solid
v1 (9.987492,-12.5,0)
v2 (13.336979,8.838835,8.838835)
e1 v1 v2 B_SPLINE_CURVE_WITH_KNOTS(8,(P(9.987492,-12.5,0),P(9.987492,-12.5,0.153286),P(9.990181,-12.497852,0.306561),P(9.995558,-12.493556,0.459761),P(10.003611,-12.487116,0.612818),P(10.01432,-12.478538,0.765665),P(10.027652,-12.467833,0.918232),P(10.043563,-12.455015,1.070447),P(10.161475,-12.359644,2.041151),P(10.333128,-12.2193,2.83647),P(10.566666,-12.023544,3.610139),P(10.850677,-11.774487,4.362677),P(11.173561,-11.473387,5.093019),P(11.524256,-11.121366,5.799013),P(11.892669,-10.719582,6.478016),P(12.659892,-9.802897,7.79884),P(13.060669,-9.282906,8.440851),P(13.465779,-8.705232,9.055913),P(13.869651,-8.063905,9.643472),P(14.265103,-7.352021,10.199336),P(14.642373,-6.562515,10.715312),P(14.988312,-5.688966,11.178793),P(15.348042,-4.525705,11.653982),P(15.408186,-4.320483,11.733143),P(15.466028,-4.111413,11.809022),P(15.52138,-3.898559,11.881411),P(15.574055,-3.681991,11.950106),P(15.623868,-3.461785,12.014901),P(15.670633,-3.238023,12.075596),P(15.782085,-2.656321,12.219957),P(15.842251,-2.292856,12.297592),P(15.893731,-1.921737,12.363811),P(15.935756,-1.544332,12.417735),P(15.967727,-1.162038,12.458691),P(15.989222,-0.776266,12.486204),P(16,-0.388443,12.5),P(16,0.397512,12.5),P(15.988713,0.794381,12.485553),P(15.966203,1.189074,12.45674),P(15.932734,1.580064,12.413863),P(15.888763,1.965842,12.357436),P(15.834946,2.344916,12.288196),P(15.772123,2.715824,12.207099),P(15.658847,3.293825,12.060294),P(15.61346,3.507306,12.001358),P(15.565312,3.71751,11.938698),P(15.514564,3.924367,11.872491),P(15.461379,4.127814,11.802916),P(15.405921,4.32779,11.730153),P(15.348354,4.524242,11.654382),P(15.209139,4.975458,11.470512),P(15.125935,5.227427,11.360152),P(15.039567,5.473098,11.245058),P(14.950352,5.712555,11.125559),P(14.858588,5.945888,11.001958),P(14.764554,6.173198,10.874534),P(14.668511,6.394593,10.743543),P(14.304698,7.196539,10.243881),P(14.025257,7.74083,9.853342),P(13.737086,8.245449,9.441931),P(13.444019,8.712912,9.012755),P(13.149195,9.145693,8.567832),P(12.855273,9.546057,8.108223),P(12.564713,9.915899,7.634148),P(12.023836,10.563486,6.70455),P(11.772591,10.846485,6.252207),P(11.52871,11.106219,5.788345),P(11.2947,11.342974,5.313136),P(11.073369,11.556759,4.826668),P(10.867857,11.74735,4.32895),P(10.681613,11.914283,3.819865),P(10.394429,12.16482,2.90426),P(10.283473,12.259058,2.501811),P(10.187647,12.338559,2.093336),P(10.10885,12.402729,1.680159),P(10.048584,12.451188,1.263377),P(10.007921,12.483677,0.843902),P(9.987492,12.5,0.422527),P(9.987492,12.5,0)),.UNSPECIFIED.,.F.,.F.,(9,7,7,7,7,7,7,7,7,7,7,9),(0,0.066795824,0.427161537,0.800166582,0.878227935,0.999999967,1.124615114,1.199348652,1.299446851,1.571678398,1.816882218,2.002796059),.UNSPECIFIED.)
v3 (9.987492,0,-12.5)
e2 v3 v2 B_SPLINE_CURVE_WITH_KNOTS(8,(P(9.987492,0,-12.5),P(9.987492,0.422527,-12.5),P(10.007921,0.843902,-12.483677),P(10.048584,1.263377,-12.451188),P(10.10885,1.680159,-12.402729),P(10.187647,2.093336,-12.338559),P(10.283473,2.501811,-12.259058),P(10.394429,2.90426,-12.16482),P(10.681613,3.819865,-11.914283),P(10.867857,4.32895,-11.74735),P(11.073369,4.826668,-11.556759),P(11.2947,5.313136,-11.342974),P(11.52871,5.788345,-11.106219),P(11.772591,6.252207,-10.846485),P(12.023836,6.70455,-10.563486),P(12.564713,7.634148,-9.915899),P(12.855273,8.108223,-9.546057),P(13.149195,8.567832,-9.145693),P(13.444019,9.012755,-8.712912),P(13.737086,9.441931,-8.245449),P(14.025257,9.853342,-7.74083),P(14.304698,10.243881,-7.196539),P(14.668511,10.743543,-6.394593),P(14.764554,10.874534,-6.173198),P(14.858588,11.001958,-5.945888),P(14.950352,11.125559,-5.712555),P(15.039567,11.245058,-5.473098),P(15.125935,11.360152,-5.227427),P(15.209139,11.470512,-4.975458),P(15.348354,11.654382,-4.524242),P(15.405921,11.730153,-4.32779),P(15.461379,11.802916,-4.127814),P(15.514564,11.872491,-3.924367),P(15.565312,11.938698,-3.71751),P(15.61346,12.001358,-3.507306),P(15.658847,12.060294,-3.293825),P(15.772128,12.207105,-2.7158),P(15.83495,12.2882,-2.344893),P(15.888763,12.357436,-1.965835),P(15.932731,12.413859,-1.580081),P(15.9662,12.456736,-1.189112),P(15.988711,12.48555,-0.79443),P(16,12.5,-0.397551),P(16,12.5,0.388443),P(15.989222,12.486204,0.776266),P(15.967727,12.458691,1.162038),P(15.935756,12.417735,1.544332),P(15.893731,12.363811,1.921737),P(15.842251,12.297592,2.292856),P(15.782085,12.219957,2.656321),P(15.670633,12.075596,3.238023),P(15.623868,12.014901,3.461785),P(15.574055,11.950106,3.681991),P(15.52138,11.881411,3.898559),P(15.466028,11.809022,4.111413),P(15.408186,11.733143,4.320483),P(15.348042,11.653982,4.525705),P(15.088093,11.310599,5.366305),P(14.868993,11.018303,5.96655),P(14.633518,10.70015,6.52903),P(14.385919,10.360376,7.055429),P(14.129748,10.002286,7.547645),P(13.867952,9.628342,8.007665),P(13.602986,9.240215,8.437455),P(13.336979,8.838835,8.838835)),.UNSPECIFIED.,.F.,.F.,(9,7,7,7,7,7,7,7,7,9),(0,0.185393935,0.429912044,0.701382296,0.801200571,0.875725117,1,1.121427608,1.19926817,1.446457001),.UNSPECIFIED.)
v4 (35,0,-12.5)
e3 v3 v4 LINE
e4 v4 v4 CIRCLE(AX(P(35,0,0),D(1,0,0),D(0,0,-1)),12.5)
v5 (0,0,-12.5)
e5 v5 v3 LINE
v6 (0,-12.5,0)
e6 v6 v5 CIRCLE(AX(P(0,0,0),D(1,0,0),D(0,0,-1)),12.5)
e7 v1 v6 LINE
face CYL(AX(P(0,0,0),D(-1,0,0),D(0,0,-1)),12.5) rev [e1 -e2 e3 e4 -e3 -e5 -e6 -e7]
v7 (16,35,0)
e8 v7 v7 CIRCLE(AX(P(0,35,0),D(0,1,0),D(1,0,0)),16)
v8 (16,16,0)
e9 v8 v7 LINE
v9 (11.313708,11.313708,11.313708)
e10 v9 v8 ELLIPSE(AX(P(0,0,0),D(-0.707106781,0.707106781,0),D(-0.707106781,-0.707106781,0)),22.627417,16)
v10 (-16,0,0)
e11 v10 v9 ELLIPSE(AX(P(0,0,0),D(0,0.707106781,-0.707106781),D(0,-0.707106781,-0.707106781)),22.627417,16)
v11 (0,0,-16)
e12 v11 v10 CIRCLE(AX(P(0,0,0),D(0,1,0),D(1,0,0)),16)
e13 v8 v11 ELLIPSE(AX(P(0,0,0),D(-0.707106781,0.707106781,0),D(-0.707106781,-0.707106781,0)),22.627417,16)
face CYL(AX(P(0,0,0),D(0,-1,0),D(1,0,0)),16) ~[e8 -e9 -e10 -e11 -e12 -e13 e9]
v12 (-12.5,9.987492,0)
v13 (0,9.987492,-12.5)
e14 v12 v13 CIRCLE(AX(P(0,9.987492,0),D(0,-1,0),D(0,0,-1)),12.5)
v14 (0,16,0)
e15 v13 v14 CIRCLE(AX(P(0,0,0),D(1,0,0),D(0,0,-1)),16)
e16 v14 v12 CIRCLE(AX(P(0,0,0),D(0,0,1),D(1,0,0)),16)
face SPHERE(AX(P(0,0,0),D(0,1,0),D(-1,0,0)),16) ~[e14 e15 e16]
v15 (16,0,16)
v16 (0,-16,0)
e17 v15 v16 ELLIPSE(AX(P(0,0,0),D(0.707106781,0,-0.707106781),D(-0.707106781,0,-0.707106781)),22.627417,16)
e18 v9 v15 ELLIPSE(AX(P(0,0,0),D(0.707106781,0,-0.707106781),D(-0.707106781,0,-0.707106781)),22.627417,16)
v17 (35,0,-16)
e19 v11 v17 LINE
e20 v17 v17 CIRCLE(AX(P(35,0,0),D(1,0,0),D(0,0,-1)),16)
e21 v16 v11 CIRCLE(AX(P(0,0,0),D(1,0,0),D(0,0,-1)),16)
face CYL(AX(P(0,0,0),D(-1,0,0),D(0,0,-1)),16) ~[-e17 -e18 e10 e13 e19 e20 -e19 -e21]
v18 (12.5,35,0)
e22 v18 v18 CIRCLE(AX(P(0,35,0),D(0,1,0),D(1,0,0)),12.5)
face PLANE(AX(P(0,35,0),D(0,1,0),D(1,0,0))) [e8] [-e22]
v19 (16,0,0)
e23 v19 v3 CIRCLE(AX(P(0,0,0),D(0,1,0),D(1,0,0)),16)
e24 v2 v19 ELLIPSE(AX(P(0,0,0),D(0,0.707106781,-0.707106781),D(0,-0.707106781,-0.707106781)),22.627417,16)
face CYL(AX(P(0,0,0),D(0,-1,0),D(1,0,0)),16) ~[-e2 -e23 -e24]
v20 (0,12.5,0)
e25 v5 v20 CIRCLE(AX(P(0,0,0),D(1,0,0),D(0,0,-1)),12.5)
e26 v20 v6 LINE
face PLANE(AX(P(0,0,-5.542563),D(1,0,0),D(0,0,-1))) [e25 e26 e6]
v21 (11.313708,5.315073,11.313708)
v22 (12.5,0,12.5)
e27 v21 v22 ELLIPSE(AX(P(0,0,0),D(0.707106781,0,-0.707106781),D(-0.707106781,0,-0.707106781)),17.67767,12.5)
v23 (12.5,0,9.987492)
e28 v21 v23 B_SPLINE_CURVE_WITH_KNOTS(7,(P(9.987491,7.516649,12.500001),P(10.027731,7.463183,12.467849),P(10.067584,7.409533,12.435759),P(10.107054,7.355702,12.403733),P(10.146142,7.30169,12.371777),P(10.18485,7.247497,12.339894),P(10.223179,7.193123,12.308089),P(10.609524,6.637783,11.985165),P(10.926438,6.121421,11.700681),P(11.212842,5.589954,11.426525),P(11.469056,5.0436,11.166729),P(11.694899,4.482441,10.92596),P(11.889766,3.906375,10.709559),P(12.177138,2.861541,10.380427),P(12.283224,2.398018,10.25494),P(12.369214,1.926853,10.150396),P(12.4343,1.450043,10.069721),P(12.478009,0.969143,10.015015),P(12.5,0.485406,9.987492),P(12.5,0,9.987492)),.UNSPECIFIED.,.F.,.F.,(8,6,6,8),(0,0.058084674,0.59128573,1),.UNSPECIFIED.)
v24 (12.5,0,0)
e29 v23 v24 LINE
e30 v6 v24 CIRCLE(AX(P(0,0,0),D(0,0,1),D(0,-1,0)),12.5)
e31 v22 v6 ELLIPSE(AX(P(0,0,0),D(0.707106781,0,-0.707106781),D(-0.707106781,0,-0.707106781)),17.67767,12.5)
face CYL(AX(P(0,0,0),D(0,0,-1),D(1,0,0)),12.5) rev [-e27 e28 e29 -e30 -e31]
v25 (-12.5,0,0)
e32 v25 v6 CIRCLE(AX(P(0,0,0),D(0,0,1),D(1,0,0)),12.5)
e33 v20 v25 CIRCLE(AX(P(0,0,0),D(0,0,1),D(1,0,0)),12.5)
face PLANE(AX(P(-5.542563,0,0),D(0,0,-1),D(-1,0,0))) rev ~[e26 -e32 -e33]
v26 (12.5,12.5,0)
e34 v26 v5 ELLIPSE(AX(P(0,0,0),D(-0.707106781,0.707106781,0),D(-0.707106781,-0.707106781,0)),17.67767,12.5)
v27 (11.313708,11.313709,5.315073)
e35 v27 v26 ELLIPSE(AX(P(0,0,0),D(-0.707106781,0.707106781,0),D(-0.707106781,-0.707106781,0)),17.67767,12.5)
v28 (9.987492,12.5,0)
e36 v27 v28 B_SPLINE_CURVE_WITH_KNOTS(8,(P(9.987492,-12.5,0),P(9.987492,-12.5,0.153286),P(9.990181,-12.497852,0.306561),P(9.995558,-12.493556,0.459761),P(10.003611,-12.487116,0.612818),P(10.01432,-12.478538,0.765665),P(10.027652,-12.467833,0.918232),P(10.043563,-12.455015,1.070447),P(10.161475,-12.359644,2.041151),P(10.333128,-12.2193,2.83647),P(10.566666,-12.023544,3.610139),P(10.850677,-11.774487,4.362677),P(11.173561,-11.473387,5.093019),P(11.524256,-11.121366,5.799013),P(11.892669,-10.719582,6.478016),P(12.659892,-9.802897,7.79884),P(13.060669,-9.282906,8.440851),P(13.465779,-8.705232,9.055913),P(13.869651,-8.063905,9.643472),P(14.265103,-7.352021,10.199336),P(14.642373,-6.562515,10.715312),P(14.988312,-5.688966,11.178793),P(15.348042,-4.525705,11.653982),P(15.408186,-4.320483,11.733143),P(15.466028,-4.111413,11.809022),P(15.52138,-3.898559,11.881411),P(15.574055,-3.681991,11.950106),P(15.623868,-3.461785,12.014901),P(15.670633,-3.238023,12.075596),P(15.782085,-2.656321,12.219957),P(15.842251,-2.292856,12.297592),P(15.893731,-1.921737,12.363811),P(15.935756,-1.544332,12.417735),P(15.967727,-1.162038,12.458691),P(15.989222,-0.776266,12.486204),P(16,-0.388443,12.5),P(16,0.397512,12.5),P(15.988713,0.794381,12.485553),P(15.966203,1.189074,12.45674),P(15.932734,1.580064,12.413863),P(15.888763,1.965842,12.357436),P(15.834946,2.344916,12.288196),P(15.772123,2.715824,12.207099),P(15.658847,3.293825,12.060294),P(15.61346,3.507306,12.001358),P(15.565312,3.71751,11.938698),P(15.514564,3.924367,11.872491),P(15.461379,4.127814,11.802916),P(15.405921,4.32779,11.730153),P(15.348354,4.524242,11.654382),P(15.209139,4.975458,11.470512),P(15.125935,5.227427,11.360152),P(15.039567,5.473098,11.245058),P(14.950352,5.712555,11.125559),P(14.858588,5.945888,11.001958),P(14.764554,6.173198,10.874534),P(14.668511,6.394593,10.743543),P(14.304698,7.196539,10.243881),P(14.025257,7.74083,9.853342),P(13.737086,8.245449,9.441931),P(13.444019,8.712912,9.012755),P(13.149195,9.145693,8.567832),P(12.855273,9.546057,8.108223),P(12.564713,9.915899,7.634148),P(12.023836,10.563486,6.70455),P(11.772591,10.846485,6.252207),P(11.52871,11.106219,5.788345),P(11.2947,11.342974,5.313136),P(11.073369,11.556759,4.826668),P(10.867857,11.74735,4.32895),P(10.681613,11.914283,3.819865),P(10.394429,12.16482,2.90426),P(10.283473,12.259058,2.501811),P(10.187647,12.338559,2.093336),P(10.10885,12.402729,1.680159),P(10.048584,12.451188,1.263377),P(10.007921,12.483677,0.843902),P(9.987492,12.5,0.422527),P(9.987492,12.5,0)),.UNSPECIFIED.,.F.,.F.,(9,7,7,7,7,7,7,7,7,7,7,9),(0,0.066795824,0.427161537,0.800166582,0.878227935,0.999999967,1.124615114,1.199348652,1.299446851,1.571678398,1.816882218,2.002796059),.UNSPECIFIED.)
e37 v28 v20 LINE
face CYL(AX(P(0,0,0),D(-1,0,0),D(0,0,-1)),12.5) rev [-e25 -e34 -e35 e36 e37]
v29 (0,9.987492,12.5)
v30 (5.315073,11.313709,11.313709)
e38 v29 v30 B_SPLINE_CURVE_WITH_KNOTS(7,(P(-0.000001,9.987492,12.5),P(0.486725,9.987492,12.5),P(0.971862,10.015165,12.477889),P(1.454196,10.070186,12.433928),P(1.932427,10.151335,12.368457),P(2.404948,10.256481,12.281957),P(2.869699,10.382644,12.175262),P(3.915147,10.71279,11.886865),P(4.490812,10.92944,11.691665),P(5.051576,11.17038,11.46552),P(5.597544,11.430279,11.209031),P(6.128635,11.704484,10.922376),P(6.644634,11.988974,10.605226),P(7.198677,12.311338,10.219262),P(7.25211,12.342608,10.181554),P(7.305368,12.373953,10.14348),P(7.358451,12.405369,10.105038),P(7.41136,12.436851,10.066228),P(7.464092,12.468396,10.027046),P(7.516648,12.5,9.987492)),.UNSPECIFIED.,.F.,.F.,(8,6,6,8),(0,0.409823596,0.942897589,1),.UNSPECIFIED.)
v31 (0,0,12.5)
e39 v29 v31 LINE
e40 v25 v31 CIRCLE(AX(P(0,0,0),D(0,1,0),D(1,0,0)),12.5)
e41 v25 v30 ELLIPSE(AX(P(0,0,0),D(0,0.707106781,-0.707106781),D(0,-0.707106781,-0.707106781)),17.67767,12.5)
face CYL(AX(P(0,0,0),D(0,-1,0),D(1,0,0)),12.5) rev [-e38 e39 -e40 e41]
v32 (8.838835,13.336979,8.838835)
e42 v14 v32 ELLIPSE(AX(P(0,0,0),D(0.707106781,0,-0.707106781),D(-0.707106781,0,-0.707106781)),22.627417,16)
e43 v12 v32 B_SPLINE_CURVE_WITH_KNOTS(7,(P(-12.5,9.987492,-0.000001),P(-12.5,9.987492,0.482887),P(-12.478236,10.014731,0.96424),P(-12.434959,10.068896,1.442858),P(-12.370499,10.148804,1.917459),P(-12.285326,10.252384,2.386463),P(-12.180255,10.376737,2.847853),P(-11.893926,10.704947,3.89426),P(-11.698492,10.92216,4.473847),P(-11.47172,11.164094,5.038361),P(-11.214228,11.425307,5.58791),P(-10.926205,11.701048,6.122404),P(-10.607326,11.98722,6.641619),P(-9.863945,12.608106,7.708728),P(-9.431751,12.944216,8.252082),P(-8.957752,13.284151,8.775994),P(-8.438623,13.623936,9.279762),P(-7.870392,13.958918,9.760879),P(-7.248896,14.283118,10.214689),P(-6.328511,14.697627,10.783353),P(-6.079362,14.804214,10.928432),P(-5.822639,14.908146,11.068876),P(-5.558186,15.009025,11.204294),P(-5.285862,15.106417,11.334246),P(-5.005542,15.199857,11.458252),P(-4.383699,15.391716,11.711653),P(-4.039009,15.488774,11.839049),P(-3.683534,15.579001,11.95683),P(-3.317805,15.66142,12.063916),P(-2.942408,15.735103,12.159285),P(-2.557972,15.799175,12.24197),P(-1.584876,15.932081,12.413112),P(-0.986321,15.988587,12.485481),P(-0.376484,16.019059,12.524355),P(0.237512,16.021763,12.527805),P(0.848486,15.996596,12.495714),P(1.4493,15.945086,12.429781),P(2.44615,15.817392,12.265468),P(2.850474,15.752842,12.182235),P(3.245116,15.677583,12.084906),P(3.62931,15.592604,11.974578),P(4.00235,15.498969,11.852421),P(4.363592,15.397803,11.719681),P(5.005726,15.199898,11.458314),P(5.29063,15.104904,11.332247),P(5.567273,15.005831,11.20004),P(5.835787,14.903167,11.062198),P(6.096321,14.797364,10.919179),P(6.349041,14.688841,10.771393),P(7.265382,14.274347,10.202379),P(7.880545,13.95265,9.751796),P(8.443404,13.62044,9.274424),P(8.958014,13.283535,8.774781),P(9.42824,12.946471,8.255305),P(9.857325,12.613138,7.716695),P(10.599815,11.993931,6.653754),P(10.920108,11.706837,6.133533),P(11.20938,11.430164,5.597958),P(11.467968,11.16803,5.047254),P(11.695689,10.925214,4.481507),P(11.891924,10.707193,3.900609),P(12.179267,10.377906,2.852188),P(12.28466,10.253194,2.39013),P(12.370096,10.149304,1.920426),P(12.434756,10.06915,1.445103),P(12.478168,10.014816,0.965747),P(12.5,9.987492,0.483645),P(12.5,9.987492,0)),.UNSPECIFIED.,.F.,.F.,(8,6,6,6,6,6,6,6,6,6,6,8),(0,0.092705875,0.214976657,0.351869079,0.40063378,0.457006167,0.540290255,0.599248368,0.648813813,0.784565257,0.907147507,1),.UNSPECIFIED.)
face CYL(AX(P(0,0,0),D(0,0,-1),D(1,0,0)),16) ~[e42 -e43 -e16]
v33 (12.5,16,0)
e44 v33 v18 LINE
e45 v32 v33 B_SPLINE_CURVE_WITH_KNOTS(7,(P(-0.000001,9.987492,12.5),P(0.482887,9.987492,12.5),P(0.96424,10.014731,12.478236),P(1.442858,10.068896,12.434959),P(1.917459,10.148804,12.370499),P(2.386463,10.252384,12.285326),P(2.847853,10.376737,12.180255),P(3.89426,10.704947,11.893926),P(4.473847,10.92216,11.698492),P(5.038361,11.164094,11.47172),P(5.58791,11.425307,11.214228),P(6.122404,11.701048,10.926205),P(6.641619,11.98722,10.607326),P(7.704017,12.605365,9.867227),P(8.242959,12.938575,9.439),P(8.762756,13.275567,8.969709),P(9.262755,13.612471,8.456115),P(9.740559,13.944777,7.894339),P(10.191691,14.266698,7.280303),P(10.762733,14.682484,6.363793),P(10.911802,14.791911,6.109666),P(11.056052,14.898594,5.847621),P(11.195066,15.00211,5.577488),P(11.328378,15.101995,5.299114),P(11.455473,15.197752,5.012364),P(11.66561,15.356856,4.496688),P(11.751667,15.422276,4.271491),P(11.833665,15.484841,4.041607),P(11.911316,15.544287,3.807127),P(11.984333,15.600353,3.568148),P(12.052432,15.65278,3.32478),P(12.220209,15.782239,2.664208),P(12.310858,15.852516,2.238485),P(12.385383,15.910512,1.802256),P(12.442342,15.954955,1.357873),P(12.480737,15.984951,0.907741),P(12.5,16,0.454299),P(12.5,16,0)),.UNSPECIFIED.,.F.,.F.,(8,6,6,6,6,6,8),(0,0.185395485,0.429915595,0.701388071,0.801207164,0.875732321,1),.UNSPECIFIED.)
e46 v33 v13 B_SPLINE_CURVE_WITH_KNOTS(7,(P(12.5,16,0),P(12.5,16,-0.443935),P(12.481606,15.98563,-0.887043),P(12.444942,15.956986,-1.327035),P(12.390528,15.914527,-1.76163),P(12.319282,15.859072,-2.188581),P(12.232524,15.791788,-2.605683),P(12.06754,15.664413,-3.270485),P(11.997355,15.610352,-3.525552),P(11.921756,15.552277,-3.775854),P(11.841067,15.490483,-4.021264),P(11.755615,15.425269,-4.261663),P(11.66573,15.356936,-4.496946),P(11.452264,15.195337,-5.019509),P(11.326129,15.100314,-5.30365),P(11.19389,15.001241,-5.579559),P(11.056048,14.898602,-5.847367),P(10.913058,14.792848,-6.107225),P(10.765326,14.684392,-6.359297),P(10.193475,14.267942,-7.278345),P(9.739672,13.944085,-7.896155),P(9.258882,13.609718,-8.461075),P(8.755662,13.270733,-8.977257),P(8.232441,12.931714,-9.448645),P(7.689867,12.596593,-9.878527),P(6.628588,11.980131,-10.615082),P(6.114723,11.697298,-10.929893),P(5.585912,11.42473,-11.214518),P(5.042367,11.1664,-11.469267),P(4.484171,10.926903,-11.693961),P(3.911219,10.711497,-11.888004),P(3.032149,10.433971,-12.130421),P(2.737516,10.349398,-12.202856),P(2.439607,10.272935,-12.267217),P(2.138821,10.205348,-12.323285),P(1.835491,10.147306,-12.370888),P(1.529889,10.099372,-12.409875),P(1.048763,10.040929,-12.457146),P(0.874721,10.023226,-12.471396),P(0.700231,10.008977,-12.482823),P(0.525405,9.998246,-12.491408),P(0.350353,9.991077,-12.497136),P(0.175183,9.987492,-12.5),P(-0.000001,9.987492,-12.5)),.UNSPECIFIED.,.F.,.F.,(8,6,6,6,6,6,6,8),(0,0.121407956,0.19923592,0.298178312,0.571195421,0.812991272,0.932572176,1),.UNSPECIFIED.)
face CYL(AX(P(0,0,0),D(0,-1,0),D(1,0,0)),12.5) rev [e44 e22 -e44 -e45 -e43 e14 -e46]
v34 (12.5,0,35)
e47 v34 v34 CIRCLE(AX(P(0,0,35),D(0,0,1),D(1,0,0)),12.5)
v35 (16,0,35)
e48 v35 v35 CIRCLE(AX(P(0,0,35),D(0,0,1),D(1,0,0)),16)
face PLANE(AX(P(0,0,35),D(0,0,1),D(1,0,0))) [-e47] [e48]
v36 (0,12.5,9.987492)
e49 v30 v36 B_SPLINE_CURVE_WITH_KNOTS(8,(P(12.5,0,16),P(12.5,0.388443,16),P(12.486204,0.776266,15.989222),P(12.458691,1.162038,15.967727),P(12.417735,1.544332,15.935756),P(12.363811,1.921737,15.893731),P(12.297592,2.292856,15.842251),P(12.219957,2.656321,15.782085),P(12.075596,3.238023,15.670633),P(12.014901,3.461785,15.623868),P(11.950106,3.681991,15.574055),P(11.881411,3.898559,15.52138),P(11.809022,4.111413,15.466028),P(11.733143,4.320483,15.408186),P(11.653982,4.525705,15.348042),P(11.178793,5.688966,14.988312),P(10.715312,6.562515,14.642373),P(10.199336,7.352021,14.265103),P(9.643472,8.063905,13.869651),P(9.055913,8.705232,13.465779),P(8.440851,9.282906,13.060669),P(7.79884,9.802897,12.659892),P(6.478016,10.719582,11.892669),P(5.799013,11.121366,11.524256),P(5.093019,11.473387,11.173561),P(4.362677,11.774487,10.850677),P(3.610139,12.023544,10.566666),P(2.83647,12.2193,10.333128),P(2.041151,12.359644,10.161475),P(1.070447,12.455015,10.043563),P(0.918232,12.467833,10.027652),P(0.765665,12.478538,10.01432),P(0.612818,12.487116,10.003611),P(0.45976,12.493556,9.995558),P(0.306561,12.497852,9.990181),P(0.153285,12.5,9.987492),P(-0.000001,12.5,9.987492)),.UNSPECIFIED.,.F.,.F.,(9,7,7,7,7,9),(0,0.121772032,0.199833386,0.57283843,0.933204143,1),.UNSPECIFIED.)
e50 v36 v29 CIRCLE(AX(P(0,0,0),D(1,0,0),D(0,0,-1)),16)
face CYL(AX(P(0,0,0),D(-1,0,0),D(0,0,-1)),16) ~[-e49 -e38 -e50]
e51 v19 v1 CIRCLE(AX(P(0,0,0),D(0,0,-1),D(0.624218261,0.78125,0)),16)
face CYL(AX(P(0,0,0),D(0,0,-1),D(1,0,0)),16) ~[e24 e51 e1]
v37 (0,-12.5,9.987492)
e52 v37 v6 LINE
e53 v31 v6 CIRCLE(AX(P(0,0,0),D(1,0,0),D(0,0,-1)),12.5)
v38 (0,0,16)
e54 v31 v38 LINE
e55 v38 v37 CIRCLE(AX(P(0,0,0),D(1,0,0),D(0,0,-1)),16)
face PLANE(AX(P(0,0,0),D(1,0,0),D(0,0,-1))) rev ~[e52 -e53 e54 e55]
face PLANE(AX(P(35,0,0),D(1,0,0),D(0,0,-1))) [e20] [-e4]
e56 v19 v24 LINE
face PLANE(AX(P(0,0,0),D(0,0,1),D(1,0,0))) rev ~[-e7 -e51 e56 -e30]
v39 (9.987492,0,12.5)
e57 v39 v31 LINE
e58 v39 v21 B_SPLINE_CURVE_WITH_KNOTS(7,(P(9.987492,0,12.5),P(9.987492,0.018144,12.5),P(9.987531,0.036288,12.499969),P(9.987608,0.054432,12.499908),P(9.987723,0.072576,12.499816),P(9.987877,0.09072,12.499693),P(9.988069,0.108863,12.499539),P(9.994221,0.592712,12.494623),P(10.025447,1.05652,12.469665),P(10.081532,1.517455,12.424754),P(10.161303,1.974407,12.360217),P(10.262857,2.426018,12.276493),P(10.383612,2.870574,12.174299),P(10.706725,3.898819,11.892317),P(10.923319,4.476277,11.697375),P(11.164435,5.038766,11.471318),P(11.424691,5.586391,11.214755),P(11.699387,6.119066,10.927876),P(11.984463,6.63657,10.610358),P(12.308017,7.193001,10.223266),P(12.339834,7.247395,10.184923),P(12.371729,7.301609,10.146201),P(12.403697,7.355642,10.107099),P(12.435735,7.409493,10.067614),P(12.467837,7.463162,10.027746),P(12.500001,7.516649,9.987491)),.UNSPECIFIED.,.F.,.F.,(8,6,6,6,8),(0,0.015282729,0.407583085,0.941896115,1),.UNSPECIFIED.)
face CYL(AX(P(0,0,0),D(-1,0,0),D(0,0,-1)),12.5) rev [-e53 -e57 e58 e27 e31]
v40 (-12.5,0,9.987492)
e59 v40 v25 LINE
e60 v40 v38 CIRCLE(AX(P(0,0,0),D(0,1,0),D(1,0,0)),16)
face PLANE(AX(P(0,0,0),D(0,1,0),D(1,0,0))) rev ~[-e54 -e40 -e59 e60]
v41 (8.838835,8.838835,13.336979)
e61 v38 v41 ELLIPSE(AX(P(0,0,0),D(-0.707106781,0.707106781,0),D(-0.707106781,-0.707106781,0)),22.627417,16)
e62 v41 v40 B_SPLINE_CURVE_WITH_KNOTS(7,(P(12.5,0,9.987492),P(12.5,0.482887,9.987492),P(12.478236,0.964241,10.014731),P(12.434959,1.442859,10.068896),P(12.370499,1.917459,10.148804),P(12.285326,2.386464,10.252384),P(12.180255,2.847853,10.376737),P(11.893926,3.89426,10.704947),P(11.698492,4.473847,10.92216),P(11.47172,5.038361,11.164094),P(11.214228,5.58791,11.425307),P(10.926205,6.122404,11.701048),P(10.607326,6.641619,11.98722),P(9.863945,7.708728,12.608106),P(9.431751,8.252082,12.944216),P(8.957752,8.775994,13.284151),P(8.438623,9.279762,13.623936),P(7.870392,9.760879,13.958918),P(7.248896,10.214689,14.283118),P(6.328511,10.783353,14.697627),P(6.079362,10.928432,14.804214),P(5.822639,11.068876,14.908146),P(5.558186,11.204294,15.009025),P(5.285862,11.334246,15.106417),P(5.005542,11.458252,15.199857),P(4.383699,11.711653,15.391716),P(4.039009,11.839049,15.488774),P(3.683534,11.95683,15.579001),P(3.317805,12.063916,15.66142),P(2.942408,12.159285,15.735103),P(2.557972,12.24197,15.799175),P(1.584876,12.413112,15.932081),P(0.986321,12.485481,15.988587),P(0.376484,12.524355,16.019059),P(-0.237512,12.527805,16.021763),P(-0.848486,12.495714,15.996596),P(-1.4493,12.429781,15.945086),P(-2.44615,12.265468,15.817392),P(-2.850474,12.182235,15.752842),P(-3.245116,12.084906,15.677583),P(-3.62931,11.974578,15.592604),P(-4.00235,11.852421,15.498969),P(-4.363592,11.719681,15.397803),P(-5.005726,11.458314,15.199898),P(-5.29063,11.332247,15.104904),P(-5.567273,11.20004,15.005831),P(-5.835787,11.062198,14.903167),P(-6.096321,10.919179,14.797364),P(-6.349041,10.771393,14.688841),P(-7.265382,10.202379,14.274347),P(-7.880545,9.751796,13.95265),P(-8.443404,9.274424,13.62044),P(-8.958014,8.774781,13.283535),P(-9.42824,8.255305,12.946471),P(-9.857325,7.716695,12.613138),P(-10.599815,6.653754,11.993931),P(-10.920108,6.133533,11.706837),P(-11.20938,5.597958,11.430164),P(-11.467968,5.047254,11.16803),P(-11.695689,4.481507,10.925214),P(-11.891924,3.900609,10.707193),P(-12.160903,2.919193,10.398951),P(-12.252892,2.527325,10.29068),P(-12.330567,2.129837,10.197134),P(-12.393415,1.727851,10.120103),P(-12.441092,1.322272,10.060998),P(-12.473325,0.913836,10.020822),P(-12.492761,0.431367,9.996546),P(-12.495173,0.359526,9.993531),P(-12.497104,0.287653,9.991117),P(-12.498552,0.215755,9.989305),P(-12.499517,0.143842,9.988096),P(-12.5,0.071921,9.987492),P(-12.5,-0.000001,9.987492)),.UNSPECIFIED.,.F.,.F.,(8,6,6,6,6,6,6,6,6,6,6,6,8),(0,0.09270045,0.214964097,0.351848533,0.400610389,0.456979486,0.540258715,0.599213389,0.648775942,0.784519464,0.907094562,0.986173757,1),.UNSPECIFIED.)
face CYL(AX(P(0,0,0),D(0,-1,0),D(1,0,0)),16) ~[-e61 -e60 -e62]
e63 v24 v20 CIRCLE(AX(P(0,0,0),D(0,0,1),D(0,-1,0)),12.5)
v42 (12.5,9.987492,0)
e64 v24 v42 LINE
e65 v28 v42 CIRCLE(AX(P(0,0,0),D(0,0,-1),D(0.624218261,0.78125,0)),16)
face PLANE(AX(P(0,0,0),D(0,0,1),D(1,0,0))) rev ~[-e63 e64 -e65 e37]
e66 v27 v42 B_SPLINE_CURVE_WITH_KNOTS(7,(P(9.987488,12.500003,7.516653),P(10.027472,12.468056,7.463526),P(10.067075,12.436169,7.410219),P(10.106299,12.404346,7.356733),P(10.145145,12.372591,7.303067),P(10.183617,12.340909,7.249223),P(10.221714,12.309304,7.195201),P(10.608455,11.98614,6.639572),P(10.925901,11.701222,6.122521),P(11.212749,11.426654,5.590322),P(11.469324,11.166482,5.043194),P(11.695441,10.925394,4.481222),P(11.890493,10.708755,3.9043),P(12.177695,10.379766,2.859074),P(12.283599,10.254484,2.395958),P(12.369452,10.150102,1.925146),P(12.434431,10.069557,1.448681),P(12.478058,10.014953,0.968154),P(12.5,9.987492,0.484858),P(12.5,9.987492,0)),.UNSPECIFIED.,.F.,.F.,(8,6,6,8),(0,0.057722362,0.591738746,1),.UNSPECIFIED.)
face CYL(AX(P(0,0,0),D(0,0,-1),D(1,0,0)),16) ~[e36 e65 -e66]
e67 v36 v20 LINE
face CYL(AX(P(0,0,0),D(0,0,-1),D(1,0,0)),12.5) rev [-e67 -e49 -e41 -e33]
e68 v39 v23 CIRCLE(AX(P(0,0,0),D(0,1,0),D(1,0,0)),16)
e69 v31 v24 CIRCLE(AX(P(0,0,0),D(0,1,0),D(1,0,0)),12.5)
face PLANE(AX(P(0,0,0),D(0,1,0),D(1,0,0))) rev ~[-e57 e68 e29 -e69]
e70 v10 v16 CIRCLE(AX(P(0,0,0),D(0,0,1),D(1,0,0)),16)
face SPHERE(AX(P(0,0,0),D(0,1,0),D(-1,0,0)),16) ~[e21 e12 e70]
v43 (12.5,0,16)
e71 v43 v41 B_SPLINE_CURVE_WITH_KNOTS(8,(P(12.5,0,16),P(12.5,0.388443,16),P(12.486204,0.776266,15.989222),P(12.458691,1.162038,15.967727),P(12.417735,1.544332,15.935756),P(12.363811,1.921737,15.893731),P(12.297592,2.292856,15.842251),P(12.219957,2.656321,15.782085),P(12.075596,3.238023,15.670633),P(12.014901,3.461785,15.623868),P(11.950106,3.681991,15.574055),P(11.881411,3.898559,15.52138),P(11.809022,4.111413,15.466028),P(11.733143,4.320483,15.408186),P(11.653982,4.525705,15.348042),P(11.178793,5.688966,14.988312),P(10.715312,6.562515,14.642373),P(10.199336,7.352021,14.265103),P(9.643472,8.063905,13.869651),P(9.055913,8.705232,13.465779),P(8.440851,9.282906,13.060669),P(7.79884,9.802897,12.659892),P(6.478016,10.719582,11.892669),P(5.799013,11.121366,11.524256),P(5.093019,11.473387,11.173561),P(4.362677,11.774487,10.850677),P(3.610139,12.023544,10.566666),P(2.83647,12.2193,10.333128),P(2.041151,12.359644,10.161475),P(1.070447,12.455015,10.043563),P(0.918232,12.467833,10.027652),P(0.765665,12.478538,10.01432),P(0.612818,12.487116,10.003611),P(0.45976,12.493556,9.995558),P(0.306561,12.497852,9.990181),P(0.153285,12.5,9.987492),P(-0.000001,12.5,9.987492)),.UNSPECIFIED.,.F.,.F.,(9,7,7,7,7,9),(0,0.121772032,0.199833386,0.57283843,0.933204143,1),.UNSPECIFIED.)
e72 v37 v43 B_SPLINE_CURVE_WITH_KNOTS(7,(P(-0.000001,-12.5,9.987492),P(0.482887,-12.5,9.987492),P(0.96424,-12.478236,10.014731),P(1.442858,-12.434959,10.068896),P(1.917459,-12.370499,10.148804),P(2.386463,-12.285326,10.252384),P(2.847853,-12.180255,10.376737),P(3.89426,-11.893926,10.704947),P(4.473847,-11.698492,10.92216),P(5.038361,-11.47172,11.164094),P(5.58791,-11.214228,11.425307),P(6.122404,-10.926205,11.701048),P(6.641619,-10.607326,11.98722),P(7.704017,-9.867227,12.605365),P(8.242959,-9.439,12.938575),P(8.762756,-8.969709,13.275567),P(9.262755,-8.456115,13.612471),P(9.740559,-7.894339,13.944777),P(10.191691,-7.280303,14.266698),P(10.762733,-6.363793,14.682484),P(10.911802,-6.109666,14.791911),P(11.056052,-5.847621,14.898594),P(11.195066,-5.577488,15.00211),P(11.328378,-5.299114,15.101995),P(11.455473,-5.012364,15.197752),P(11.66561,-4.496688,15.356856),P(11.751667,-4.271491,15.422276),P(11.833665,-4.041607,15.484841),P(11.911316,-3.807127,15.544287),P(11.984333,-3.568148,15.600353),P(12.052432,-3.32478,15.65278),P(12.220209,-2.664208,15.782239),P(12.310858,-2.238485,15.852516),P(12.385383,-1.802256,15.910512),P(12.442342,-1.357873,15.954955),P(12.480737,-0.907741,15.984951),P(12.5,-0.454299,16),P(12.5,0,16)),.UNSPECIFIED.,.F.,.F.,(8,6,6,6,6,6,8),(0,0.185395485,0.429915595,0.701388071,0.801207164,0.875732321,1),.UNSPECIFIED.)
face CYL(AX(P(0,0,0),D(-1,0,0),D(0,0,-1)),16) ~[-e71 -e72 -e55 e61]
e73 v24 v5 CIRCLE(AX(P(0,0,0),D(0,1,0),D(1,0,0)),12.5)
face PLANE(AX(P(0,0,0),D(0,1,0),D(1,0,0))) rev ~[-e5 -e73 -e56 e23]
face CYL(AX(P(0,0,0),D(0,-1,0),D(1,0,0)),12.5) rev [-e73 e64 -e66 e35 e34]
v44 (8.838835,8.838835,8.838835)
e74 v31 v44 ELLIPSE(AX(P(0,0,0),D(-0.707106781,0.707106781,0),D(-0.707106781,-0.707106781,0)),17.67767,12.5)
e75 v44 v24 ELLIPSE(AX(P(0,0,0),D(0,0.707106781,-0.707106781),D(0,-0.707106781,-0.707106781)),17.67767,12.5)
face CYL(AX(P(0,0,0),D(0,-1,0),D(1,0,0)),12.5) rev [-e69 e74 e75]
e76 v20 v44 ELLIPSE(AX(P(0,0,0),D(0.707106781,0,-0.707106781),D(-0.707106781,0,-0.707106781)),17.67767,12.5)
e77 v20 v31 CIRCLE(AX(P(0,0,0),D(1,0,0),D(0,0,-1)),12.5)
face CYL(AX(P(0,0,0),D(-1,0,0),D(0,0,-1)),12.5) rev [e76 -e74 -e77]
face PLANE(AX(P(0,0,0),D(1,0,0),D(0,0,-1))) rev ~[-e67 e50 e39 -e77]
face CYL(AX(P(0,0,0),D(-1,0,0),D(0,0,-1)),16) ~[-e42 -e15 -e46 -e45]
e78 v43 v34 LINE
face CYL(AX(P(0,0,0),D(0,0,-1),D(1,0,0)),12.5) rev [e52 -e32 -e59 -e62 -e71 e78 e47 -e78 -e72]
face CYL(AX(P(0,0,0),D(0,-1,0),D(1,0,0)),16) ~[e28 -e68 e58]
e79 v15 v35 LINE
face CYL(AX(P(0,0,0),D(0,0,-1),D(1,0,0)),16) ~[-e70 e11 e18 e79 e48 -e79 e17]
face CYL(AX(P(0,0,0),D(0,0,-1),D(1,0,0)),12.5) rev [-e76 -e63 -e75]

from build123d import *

# Parameters (mm, degrees)
SKETCH_1_R      = 16
SKETCH_1_R_2    = 12.5
EXTRUDE_1_DEPTH = 35
SKETCH_2_R      = 16
SKETCH_2_R_2    = 12.5
EXTRUDE_2_DEPTH = 35
SKETCH_4_R      = 16
SKETCH_4_R_2    = 12.5
EXTRUDE_3_DEPTH = 35
REVOLVE_1_ANGLE = 90


with BuildPart() as part:
    # 草图1 → 凸台-拉伸1 (new body)
    with BuildSketch(Plane.XY):
        Circle(SKETCH_1_R)
        Circle(SKETCH_1_R_2, mode=Mode.SUBTRACT)
    extrude(amount=EXTRUDE_1_DEPTH)

    # 草图2 → 凸台-拉伸2 (add)
    with BuildSketch(Plane(origin=(0, 0, 0), x_dir=(0, 0, -1), z_dir=(1, 0, 0))):
        Circle(SKETCH_2_R)
        Circle(SKETCH_2_R_2, mode=Mode.SUBTRACT)
    extrude(amount=EXTRUDE_2_DEPTH)

    # 草图4 → 凸台-拉伸3 (add)
    with BuildSketch(Plane(origin=(0, 0, 0), x_dir=(1, 0, 0), z_dir=(0, 1, 0))):
        Circle(SKETCH_4_R)
        Circle(SKETCH_4_R_2, mode=Mode.SUBTRACT)
    extrude(amount=EXTRUDE_3_DEPTH)

    # 草图3 → 旋转1 (revolve)
    with BuildSketch(Plane.XY):
        with BuildLine():
            Line((0, 16), (0, -16))
            ThreePointArc((0, -16), (-16, 0), (0, 16))
        make_face()
    revolve(axis=Axis((0, 16, 0), (0, -1, 0)), revolution_arc=REVOLVE_1_ANGLE)


solid = part.part
